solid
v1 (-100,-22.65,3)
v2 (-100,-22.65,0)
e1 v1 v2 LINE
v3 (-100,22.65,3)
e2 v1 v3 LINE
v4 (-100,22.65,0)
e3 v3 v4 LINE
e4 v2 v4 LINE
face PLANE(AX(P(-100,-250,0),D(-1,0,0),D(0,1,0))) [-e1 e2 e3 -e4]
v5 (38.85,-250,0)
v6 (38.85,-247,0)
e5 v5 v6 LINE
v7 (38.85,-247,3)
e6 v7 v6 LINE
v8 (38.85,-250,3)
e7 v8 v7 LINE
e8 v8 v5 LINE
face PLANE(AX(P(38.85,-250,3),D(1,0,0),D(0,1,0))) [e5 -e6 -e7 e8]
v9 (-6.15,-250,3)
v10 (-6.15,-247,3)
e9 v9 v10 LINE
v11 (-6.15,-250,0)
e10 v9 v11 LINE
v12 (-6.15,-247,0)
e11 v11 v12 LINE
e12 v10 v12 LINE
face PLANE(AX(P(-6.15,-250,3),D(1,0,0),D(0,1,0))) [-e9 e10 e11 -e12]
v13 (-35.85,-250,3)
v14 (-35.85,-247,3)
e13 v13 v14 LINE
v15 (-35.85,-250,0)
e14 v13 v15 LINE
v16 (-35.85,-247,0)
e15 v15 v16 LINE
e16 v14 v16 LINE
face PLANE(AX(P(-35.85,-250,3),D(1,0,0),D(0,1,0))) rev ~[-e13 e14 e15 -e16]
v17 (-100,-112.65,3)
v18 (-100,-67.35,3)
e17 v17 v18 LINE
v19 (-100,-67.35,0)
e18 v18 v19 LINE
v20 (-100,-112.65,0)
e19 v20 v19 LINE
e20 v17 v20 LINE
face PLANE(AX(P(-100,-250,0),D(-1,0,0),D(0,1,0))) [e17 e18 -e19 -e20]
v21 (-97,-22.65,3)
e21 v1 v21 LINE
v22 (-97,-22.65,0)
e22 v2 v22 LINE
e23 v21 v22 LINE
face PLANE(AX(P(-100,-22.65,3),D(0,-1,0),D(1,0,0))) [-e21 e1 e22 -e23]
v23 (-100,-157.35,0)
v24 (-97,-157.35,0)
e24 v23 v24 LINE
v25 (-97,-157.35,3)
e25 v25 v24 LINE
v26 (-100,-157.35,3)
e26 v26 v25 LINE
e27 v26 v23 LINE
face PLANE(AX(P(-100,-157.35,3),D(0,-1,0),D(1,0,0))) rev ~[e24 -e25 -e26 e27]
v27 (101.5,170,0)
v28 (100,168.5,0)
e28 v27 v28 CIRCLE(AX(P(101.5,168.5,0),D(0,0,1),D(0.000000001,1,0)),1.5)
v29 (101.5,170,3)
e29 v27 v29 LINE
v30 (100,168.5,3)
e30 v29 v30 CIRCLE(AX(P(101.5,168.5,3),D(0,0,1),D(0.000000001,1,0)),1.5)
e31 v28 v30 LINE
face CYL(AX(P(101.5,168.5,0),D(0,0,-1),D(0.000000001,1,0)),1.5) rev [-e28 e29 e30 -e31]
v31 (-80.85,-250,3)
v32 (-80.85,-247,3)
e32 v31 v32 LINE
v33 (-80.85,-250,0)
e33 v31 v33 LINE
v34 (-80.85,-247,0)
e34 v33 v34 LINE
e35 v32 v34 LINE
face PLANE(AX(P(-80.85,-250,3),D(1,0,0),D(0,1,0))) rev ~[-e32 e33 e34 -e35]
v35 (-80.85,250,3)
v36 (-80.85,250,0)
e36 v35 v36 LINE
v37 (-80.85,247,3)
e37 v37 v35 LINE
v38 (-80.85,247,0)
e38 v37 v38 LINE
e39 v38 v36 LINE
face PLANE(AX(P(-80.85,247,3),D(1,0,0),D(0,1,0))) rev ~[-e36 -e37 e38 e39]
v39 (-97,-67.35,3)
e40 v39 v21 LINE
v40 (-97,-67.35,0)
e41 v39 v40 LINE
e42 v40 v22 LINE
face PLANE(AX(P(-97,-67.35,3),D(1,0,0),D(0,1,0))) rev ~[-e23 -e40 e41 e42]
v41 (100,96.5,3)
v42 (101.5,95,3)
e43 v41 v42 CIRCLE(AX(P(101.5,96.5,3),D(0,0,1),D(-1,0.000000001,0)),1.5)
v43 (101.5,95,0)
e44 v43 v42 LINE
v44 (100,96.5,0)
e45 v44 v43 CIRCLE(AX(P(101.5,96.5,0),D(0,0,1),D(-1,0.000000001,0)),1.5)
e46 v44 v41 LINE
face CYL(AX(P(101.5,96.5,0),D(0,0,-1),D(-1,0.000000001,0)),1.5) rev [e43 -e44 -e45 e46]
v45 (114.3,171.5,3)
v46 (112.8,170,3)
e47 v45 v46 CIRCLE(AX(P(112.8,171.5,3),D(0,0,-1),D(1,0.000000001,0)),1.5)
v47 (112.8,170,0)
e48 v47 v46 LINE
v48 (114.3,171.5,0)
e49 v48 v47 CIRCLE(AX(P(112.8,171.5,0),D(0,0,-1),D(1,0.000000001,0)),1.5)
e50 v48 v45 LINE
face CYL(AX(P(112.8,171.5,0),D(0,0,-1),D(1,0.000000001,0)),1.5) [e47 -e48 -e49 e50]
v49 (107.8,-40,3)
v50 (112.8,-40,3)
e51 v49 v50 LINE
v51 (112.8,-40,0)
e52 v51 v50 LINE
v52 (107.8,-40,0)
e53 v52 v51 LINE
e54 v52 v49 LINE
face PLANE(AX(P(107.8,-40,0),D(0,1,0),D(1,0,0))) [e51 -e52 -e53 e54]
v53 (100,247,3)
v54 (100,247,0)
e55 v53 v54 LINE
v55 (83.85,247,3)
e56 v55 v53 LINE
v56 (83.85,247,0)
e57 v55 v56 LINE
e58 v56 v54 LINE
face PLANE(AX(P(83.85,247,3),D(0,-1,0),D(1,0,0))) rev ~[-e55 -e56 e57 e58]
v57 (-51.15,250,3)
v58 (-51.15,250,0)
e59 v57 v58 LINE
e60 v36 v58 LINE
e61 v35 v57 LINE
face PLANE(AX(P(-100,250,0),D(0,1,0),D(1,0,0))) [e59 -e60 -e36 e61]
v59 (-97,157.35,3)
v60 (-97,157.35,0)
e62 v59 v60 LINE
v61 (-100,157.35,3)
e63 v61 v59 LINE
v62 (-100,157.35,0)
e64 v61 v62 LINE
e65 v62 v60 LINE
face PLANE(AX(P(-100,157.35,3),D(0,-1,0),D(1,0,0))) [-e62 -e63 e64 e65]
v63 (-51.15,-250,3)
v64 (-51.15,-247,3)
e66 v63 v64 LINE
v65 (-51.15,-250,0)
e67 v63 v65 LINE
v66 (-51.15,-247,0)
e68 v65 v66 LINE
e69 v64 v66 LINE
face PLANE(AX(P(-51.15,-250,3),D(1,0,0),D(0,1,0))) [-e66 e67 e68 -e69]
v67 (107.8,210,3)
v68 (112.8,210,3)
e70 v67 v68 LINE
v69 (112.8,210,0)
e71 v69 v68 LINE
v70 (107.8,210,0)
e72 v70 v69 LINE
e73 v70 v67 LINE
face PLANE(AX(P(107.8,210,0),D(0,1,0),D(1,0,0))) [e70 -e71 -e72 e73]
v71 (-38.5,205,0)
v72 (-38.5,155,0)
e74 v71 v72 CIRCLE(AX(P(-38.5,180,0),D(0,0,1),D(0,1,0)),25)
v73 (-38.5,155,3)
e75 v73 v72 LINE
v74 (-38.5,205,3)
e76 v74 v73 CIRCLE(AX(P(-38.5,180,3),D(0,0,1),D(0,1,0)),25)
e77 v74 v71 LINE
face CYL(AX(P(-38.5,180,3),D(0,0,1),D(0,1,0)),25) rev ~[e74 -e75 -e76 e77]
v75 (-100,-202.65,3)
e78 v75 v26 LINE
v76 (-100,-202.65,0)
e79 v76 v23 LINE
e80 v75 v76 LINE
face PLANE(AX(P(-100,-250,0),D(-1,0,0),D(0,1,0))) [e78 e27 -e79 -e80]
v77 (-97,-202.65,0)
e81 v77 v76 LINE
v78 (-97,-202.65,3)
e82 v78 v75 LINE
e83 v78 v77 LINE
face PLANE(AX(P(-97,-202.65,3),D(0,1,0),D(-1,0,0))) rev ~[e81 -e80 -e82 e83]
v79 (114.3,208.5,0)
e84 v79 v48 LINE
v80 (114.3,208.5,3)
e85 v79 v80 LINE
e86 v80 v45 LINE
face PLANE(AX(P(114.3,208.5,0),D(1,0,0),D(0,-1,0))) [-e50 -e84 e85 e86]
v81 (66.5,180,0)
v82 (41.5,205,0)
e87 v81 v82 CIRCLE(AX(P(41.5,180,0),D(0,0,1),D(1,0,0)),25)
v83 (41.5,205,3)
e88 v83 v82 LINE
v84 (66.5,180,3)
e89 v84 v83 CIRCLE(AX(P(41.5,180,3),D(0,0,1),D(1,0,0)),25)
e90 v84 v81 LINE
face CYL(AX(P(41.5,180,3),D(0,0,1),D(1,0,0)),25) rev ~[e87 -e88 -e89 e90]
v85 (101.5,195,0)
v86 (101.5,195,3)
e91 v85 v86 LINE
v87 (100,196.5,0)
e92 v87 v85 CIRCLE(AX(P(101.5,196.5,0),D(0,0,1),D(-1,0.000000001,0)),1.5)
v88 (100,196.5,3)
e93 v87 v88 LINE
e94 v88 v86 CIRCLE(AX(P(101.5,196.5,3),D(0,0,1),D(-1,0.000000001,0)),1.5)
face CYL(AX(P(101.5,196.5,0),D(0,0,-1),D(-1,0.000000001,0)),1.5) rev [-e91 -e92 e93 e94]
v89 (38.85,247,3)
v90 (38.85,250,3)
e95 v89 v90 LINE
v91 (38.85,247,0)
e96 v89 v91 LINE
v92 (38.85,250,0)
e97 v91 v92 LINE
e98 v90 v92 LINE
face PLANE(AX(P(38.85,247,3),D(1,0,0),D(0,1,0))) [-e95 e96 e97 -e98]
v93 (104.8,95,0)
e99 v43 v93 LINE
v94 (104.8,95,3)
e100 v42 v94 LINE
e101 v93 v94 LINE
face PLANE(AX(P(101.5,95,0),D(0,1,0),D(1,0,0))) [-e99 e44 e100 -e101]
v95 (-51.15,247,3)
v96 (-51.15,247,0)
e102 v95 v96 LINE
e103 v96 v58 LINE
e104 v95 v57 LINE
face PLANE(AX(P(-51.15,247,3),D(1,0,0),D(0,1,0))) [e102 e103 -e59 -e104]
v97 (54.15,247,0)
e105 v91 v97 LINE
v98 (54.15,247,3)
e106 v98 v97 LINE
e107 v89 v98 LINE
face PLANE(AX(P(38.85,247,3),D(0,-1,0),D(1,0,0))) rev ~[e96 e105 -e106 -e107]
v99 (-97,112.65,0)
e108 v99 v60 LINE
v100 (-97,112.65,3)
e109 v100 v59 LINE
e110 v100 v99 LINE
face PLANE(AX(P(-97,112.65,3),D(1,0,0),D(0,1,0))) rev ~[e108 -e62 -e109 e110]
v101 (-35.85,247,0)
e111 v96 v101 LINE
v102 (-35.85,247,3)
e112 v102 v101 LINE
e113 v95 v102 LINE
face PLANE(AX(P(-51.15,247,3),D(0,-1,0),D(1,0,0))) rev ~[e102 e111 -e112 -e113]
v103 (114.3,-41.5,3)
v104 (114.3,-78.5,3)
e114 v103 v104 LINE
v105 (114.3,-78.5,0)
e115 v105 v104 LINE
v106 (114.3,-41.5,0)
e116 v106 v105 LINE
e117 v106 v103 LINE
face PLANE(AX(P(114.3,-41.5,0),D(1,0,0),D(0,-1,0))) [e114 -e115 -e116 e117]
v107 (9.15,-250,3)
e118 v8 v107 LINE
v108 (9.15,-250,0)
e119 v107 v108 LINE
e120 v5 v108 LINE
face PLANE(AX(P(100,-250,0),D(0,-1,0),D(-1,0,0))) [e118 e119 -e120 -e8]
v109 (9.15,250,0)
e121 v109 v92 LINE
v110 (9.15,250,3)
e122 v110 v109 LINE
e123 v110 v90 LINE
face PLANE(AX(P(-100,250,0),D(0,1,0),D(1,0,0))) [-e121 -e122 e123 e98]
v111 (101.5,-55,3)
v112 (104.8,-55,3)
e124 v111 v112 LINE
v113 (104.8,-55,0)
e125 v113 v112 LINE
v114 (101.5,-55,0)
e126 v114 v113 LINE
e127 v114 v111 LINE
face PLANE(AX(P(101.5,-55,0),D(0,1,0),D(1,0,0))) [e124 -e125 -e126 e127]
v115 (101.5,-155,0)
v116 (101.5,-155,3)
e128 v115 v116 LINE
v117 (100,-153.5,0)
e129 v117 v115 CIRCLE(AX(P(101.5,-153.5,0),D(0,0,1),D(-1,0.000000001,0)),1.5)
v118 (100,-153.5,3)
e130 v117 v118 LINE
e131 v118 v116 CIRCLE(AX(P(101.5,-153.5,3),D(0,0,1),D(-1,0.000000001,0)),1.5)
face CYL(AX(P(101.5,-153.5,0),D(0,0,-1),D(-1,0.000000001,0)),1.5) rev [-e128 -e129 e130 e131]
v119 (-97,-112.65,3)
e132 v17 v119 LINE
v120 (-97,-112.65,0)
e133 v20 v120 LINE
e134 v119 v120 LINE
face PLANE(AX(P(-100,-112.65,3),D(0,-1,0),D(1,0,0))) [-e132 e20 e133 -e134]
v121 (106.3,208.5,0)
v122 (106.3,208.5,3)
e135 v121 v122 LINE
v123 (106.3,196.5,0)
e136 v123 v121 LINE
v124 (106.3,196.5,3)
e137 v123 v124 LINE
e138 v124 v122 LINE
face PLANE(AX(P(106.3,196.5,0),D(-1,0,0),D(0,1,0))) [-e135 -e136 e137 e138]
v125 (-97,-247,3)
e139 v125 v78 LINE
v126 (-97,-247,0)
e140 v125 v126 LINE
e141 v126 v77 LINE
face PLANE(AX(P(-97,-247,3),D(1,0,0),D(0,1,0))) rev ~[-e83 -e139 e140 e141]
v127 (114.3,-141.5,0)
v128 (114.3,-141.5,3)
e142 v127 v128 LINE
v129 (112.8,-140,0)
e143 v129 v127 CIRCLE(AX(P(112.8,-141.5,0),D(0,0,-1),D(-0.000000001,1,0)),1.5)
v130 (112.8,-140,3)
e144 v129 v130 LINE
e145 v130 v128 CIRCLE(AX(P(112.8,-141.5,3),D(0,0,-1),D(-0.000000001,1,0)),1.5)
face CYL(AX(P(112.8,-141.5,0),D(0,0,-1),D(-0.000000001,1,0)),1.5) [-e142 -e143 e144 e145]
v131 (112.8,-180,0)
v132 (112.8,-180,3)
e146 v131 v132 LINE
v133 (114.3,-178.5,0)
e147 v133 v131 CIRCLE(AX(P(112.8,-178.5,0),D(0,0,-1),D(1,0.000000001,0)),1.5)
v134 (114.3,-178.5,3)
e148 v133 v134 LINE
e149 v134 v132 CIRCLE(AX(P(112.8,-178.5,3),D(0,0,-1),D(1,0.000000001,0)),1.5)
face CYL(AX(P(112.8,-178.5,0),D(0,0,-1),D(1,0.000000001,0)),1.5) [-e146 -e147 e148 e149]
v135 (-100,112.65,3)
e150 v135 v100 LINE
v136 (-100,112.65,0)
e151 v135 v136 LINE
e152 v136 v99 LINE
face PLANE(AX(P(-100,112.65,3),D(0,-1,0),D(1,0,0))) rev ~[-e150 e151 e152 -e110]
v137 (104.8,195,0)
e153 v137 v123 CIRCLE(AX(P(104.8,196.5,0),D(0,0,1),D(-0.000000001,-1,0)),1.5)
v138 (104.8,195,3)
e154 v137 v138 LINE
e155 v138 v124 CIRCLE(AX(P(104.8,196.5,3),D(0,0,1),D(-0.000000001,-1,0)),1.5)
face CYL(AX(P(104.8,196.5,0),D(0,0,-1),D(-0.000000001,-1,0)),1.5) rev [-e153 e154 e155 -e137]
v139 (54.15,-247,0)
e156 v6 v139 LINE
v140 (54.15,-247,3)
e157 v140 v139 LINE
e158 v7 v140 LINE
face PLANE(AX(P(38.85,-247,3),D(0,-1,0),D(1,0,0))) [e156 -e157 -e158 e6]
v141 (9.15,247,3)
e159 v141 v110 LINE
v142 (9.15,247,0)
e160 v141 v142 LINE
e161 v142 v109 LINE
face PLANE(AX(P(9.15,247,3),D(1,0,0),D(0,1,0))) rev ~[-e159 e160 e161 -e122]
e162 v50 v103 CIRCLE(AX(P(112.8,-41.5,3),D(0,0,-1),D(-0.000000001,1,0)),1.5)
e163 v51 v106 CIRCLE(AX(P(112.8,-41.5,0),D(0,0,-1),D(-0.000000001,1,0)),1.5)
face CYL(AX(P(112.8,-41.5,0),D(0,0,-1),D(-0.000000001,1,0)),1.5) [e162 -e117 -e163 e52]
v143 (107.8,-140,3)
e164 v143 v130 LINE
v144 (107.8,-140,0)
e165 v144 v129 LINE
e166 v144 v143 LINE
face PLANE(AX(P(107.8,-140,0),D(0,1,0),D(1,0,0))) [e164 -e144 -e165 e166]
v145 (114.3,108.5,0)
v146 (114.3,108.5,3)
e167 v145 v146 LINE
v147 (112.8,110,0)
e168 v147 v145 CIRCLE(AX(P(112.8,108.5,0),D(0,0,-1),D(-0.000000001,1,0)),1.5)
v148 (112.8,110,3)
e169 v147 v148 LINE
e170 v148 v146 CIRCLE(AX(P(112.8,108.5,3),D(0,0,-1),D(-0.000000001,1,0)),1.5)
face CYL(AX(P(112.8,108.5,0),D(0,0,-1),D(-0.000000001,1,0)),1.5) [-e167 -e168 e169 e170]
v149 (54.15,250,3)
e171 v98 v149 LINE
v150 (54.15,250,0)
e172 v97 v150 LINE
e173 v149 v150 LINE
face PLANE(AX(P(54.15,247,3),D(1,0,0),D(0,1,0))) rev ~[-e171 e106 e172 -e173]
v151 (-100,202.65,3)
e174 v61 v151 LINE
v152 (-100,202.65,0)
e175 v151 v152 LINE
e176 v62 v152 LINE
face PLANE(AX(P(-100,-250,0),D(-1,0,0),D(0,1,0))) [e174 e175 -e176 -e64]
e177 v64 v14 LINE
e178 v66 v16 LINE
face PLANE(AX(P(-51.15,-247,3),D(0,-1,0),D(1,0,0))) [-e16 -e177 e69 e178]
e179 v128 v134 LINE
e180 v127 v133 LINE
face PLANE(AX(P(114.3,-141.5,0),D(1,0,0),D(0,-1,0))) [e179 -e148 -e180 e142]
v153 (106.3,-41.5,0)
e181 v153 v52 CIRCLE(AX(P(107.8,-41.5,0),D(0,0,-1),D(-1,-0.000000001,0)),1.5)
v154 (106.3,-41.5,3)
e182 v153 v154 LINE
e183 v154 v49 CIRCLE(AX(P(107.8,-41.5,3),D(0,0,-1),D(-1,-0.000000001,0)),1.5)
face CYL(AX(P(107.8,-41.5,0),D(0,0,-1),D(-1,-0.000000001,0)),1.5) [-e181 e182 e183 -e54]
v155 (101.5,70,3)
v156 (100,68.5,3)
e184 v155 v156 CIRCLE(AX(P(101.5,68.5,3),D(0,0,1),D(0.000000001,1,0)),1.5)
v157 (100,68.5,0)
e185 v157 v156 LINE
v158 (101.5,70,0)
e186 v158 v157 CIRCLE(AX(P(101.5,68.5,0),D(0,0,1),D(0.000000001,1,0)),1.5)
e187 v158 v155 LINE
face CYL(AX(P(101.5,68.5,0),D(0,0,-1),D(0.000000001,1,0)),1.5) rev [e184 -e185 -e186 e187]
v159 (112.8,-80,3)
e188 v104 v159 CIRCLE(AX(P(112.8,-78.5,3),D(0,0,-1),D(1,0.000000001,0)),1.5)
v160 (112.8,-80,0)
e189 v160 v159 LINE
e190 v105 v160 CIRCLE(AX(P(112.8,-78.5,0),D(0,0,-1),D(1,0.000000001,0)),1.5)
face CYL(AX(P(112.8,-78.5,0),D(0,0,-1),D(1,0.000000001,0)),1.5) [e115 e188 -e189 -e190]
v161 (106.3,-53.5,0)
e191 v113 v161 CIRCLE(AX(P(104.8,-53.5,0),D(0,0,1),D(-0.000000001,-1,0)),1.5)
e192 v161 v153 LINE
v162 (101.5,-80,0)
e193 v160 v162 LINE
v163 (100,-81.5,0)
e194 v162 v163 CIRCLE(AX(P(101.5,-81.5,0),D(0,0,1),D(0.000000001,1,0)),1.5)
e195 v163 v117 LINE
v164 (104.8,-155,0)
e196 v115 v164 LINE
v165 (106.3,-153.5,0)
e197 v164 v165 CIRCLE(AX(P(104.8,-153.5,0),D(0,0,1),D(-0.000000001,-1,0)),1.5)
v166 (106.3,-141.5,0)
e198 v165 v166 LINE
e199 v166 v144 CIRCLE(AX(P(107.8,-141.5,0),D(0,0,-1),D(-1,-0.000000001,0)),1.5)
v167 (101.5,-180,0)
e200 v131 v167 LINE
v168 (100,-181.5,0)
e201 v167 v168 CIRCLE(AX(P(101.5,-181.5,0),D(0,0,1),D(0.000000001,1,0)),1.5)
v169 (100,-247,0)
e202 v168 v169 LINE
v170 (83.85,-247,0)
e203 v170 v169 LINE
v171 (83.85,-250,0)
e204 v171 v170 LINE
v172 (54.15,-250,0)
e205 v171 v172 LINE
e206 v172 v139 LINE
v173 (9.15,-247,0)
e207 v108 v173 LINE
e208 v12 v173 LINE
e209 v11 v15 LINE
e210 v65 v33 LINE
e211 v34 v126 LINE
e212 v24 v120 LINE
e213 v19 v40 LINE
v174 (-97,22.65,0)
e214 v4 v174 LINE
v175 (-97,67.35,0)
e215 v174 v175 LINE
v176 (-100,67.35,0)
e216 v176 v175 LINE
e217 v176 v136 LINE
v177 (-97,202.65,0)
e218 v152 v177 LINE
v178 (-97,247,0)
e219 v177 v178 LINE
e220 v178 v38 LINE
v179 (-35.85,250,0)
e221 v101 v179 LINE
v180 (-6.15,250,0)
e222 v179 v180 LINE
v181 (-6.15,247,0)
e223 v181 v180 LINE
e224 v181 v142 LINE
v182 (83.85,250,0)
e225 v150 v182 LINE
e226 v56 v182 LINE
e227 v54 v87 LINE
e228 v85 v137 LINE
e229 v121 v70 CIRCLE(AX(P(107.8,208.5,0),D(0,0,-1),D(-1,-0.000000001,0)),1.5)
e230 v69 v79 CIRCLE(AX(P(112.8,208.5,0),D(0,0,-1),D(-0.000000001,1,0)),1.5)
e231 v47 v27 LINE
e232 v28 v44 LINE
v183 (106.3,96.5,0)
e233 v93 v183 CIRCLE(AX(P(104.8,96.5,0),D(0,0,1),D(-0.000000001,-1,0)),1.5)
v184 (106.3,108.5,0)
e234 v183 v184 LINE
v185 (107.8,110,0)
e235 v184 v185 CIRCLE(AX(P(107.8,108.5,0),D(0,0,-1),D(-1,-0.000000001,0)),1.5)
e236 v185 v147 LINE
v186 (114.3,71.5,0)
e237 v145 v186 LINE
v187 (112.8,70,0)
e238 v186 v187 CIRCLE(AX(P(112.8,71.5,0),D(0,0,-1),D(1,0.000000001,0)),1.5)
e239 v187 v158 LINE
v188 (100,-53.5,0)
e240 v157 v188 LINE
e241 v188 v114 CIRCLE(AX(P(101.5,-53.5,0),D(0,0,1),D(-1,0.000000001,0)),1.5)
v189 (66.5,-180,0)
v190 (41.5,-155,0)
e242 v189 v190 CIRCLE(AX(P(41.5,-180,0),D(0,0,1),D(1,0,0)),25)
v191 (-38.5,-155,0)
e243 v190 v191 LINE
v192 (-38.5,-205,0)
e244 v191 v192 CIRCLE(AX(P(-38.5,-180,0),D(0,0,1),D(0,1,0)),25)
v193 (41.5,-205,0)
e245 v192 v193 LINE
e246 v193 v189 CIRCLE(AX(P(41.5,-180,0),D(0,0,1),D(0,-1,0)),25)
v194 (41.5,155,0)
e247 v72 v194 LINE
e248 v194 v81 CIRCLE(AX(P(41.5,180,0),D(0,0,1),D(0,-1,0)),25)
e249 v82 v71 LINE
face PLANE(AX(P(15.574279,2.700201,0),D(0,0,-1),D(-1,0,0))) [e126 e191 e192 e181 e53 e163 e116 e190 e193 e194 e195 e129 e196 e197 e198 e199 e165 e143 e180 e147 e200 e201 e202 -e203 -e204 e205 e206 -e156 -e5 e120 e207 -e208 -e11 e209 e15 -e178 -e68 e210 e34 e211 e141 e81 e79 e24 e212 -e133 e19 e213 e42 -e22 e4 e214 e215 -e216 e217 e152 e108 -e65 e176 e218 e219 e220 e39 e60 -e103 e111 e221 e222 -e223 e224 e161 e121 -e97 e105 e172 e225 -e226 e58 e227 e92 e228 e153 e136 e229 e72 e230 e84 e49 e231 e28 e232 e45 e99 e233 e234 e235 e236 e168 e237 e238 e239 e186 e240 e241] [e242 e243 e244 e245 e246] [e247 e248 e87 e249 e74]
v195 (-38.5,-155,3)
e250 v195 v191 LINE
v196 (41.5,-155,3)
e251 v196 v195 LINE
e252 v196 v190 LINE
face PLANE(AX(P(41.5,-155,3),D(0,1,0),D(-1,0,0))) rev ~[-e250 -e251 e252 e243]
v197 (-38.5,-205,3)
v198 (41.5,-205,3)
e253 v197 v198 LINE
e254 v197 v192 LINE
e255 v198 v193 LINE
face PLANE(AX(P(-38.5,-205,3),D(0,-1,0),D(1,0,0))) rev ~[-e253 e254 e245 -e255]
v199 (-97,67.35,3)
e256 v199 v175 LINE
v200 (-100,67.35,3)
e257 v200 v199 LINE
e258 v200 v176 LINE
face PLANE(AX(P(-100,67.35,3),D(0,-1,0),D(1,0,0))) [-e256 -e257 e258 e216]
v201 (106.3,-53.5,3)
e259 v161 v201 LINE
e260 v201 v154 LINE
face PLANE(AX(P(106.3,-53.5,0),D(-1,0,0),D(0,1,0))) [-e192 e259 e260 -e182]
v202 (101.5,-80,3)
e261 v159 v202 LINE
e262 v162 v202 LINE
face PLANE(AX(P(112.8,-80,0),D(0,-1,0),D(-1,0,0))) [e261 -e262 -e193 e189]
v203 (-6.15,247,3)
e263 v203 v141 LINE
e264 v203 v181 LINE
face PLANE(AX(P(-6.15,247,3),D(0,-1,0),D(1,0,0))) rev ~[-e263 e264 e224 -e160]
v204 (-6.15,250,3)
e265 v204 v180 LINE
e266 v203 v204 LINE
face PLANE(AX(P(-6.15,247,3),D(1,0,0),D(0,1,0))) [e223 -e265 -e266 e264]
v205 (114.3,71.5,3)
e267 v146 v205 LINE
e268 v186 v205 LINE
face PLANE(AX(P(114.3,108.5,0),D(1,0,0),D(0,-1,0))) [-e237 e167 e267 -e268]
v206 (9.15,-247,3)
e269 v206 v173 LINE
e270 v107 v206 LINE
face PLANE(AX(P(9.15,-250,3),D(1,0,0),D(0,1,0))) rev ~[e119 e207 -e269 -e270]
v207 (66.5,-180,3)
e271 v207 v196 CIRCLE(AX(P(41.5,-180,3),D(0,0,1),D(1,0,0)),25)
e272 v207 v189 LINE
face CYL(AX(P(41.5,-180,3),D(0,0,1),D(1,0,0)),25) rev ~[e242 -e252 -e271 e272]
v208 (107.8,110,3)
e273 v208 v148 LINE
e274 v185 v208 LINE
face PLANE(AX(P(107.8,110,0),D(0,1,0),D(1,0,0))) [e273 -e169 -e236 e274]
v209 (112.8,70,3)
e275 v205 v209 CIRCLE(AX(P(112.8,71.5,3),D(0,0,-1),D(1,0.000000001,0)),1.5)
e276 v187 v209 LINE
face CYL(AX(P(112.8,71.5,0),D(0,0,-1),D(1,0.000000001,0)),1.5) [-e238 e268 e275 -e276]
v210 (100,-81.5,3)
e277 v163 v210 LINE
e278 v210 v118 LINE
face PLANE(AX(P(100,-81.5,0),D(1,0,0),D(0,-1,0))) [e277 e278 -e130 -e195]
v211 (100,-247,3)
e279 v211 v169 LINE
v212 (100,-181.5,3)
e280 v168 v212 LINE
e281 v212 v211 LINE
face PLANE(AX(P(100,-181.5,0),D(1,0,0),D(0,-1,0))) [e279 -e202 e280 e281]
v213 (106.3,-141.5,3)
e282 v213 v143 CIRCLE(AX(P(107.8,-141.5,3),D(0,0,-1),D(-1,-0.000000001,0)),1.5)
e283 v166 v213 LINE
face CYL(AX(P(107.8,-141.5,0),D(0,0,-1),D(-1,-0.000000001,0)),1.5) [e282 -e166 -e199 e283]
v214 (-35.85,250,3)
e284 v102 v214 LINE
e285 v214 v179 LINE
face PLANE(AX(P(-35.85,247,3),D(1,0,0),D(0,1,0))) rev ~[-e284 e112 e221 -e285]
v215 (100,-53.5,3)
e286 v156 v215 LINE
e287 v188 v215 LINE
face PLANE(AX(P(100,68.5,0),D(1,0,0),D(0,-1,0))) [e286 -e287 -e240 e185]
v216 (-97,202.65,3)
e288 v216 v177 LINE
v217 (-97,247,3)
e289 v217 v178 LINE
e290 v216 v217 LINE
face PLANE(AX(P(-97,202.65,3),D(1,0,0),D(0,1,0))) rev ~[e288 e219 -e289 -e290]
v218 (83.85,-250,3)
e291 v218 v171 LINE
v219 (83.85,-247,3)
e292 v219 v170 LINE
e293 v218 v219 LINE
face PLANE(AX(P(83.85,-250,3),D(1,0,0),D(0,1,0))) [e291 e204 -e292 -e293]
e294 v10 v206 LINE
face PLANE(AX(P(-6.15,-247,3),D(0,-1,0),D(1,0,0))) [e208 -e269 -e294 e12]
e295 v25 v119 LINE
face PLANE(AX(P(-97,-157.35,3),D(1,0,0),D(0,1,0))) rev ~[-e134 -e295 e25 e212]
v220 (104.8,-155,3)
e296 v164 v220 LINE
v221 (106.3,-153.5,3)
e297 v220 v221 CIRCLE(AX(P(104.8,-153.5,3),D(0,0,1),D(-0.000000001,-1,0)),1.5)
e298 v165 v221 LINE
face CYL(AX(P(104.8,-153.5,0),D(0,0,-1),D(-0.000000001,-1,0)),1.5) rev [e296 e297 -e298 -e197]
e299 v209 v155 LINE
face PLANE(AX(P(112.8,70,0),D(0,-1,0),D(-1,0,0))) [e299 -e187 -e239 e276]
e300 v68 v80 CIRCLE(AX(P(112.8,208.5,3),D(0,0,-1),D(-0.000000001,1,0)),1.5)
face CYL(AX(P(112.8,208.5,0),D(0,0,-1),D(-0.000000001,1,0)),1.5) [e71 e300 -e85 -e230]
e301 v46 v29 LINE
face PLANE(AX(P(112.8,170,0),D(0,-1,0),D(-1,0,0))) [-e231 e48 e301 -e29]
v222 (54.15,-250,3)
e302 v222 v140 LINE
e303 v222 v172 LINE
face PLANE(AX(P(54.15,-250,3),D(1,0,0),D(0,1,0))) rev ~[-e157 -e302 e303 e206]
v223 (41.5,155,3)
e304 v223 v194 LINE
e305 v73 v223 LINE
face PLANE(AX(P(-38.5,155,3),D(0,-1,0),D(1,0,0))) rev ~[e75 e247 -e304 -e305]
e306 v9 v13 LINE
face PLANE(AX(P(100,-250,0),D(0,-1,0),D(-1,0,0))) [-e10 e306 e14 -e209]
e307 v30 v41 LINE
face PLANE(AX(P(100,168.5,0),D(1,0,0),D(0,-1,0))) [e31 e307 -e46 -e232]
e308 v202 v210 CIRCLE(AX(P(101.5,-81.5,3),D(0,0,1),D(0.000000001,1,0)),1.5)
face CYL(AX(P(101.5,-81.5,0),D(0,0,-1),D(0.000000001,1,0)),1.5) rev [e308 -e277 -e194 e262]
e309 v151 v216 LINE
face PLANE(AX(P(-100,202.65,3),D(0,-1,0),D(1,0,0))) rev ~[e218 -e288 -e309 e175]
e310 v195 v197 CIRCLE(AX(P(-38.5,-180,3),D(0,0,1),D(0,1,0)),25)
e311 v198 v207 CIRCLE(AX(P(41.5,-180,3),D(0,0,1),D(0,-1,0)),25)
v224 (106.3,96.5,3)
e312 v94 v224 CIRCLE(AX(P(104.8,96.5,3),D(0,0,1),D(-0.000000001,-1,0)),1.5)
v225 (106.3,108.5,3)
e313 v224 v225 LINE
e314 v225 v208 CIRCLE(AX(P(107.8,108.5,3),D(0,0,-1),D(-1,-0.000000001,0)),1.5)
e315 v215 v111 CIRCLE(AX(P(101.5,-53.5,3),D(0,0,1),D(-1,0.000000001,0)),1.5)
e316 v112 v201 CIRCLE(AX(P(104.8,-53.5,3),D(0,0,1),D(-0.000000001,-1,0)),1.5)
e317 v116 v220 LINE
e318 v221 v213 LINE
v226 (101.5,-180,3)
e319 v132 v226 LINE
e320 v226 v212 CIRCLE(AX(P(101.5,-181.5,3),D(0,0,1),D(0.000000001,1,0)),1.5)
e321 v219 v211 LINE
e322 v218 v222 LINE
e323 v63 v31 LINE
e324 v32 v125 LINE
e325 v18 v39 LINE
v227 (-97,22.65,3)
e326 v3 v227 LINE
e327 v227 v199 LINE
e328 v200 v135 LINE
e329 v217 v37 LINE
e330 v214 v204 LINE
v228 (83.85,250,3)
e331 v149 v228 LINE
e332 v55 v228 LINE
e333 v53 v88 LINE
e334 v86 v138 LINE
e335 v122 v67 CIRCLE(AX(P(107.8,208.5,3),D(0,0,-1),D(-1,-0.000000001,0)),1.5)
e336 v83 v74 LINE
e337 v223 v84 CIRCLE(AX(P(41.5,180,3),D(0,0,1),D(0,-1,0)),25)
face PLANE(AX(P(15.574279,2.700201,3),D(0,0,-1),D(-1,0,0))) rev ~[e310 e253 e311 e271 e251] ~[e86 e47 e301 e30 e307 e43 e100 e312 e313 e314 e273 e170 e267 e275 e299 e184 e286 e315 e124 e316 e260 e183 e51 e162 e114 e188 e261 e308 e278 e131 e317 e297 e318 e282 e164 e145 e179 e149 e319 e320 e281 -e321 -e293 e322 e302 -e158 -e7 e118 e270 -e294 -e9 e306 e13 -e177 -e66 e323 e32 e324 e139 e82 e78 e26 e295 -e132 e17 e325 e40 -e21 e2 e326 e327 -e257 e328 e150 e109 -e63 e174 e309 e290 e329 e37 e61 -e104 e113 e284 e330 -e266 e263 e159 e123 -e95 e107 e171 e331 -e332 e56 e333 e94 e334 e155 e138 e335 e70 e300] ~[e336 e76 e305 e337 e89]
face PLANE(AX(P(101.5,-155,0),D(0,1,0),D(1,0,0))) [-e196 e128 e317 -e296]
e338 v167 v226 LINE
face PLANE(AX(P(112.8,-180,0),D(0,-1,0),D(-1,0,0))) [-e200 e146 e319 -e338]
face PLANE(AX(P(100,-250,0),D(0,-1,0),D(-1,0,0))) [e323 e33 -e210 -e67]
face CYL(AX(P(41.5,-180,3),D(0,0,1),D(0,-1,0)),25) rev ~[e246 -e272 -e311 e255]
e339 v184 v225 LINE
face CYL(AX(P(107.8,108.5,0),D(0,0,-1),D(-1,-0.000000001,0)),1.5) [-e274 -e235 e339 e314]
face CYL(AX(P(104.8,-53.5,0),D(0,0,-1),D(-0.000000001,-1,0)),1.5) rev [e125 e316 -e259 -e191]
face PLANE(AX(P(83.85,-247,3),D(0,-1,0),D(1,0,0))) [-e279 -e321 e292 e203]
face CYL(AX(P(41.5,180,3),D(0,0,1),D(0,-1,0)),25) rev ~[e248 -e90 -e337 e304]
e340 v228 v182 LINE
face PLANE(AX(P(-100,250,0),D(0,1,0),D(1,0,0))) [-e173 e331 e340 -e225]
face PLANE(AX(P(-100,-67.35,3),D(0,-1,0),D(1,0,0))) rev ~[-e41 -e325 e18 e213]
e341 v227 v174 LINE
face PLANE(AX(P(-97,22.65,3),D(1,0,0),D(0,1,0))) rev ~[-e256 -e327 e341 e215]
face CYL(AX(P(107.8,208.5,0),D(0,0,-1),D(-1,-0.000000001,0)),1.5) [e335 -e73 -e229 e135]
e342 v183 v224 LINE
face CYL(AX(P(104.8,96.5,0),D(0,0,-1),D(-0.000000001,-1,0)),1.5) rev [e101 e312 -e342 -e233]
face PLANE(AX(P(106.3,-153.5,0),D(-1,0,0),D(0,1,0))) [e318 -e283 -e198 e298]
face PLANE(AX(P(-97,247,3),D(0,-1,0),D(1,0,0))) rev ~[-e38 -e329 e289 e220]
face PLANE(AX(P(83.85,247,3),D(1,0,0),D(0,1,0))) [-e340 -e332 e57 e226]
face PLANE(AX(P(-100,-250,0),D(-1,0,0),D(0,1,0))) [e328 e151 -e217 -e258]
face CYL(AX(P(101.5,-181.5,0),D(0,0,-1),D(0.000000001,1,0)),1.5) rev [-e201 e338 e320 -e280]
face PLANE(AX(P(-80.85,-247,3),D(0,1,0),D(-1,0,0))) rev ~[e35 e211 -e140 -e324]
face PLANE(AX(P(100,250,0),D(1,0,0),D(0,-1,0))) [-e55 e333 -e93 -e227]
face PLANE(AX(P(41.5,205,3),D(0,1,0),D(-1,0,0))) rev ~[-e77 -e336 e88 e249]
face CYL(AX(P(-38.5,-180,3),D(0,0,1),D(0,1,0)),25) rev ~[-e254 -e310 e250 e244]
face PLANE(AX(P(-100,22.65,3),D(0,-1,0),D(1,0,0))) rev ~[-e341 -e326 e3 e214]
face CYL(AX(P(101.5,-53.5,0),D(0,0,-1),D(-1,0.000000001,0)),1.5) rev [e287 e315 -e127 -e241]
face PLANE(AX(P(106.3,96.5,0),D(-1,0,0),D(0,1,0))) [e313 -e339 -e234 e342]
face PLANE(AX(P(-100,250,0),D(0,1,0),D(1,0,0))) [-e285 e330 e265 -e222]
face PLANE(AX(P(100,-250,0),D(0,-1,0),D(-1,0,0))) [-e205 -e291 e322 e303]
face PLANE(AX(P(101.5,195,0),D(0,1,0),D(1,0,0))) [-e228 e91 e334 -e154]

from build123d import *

# Parameters (mm, degrees)
SALIENTE_EXTRUIR1_DEPTH = 3
CORTAR_EXTRUIR1_REACH   = 5
CROQUIS2_W              = 15.3
CROQUIS2_H              = 3
CROQUIS2_W_2            = 16.15
CROQUIS2_W_3            = 3
CROQUIS2_H_2            = 44.7


with BuildPart() as part:
    # Croquis1 → Saliente-Extruir1 (new body)
    with BuildSketch(Plane.XY):
        with BuildLine():
            Line((101.5, 195), (104.8, 195))
            ThreePointArc((104.8, 195), (105.860660172, 195.439339828), (106.3, 196.5))
            Line((106.3, 196.5), (106.3, 208.5))
            ThreePointArc((106.3, 208.5), (106.739339828, 209.560660172), (107.8, 210))
            Line((107.8, 210), (112.8, 210))
            ThreePointArc((112.8, 210), (113.860660172, 209.560660172), (114.3, 208.5))
            Line((114.3, 208.5), (114.3, 171.5))
            ThreePointArc((114.3, 171.5), (113.860660172, 170.439339828), (112.8, 170))
            Line((112.8, 170), (101.5, 170))
            ThreePointArc((101.5, 170), (100.439339828, 169.560660172), (100, 168.5))
            Line((100, 168.5), (100, 96.5))
            ThreePointArc((100, 96.5), (100.439339828, 95.439339828), (101.5, 95))
            Line((101.5, 95), (104.8, 95))
            ThreePointArc((104.8, 95), (105.860660172, 95.439339828), (106.3, 96.5))
            Line((106.3, 96.5), (106.3, 108.5))
            ThreePointArc((106.3, 108.5), (106.739339828, 109.560660172), (107.8, 110))
            Line((107.8, 110), (112.8, 110))
            ThreePointArc((112.8, 110), (113.860660172, 109.560660172), (114.3, 108.5))
            Line((114.3, 108.5), (114.3, 71.5))
            ThreePointArc((114.3, 71.5), (113.860660172, 70.439339828), (112.8, 70))
            Line((112.8, 70), (101.5, 70))
            ThreePointArc((101.5, 70), (100.439339828, 69.560660172), (100, 68.5))
            Line((100, 68.5), (100, -53.5))
            ThreePointArc((100, -53.5), (100.439339828, -54.560660172), (101.5, -55))
            Line((101.5, -55), (104.8, -55))
            ThreePointArc((104.8, -55), (105.860660172, -54.560660172), (106.3, -53.5))
            Line((106.3, -53.5), (106.3, -41.5))
            ThreePointArc((106.3, -41.5), (106.739339828, -40.439339828), (107.8, -40))
            Line((107.8, -40), (112.8, -40))
            ThreePointArc((112.8, -40), (113.860660172, -40.439339828), (114.3, -41.5))
            Line((114.3, -41.5), (114.3, -78.5))
            ThreePointArc((114.3, -78.5), (113.860660172, -79.560660172), (112.8, -80))
            Line((112.8, -80), (101.5, -80))
            ThreePointArc((101.5, -80), (100.439339828, -80.439339828), (100, -81.5))
            Line((100, -81.5), (100, -153.5))
            ThreePointArc((100, -153.5), (100.439339828, -154.560660172), (101.5, -155))
            Line((101.5, -155), (104.8, -155))
            ThreePointArc((104.8, -155), (105.860660172, -154.560660172), (106.3, -153.5))
            Line((106.3, -153.5), (106.3, -141.5))
            ThreePointArc((106.3, -141.5), (106.739339828, -140.439339828), (107.8, -140))
            Line((107.8, -140), (112.8, -140))
            ThreePointArc((112.8, -140), (113.860660172, -140.439339828), (114.3, -141.5))
            Line((114.3, -141.5), (114.3, -178.5))
            ThreePointArc((114.3, -178.5), (113.860660172, -179.560660172), (112.8, -180))
            Line((112.8, -180), (101.5, -180))
            ThreePointArc((101.5, -180), (100.439339828, -180.439339828), (100, -181.5))
            Line((100, -181.5), (100, -250))
            Line((100, -250), (-100, -250))
            Line((-100, -250), (-100, 250))
            Line((-100, 250), (100, 250))
            Line((100, 250), (100, 196.5))
            ThreePointArc((100, 196.5), (100.439339828, 195.439339828), (101.5, 195))
        make_face()
    extrude(amount=SALIENTE_EXTRUIR1_DEPTH)

    # Croquis2 → Cortar-Extruir1 (cut, up to next)
    with BuildSketch(Plane.XY.offset(3), mode=Mode.PRIVATE) as cortar_extruir1_sk1:
        Polygon((-100, -250), (-80.85, -250), (-80.85, -247), (-97, -247), (-97, -202.65), (-100, -202.65), align=None)
    cortar_extruir1_tool1 = extrude(cortar_extruir1_sk1.sketch, amount=-CORTAR_EXTRUIR1_REACH, mode=Mode.PRIVATE) & part.part
    add(cortar_extruir1_tool1.solids().sort_by_distance((-99.489241, -226.325, 3))[0], mode=Mode.SUBTRACT)
    # Croquis2 → Cortar-Extruir1 (cut, up to next)
    with BuildSketch(Plane.XY.offset(3), mode=Mode.PRIVATE) as cortar_extruir1_sk2:
        with Locations((-43.5, -248.5)):
            Rectangle(CROQUIS2_W, CROQUIS2_H)
    cortar_extruir1_tool2 = extrude(cortar_extruir1_sk2.sketch, amount=-CORTAR_EXTRUIR1_REACH, mode=Mode.PRIVATE) & part.part
    add(cortar_extruir1_tool2.solids().sort_by_distance((-43.5, -248.5, 3))[0], mode=Mode.SUBTRACT)
    # Croquis2 → Cortar-Extruir1 (cut, up to next)
    with BuildSketch(Plane.XY.offset(3), mode=Mode.PRIVATE) as cortar_extruir1_sk3:
        with Locations((1.5, -248.5)):
            Rectangle(CROQUIS2_W, CROQUIS2_H)
    cortar_extruir1_tool3 = extrude(cortar_extruir1_sk3.sketch, amount=-CORTAR_EXTRUIR1_REACH, mode=Mode.PRIVATE) & part.part
    add(cortar_extruir1_tool3.solids().sort_by_distance((1.5, -248.5, 3))[0], mode=Mode.SUBTRACT)
    # Croquis2 → Cortar-Extruir1 (cut, up to next)
    with BuildSketch(Plane.XY.offset(3), mode=Mode.PRIVATE) as cortar_extruir1_sk4:
        with Locations((46.5, -248.5)):
            Rectangle(CROQUIS2_W, CROQUIS2_H)
    cortar_extruir1_tool4 = extrude(cortar_extruir1_sk4.sketch, amount=-CORTAR_EXTRUIR1_REACH, mode=Mode.PRIVATE) & part.part
    add(cortar_extruir1_tool4.solids().sort_by_distance((46.5, -248.5, 3))[0], mode=Mode.SUBTRACT)
    # Croquis2 → Cortar-Extruir1 (cut, up to next)
    with BuildSketch(Plane.XY.offset(3), mode=Mode.PRIVATE) as cortar_extruir1_sk5:
        with Locations((91.925, -248.5)):
            Rectangle(CROQUIS2_W_2, CROQUIS2_H)
    cortar_extruir1_tool5 = extrude(cortar_extruir1_sk5.sketch, amount=-CORTAR_EXTRUIR1_REACH, mode=Mode.PRIVATE) & part.part
    add(cortar_extruir1_tool5.solids().sort_by_distance((91.925, -248.5, 3))[0], mode=Mode.SUBTRACT)
    # Croquis2 → Cortar-Extruir1 (cut, up to next)
    with BuildSketch(Plane.XY.offset(3), mode=Mode.PRIVATE) as cortar_extruir1_sk6:
        with Locations((-98.5, -135)):
            Rectangle(CROQUIS2_W_3, CROQUIS2_H_2)
    cortar_extruir1_tool6 = extrude(cortar_extruir1_sk6.sketch, amount=-CORTAR_EXTRUIR1_REACH, mode=Mode.PRIVATE) & part.part
    add(cortar_extruir1_tool6.solids().sort_by_distance((-98.5, -135, 3))[0], mode=Mode.SUBTRACT)
    # Croquis2 → Cortar-Extruir1 (cut, up to next)
    with BuildSketch(Plane.XY.offset(3), mode=Mode.PRIVATE) as cortar_extruir1_sk7:
        with Locations((-98.5, -45)):
            Rectangle(CROQUIS2_W_3, CROQUIS2_H_2)
    cortar_extruir1_tool7 = extrude(cortar_extruir1_sk7.sketch, amount=-CORTAR_EXTRUIR1_REACH, mode=Mode.PRIVATE) & part.part
    add(cortar_extruir1_tool7.solids().sort_by_distance((-98.5, -45, 3))[0], mode=Mode.SUBTRACT)
    # Croquis2 → Cortar-Extruir1 (cut, up to next)
    with BuildSketch(Plane.XY.offset(3), mode=Mode.PRIVATE) as cortar_extruir1_sk8:
        with Locations((-98.5, 45)):
            Rectangle(CROQUIS2_W_3, CROQUIS2_H_2)
    cortar_extruir1_tool8 = extrude(cortar_extruir1_sk8.sketch, amount=-CORTAR_EXTRUIR1_REACH, mode=Mode.PRIVATE) & part.part
    add(cortar_extruir1_tool8.solids().sort_by_distance((-98.5, 45, 3))[0], mode=Mode.SUBTRACT)
    # Croquis2 → Cortar-Extruir1 (cut, up to next)
    with BuildSketch(Plane.XY.offset(3), mode=Mode.PRIVATE) as cortar_extruir1_sk9:
        with Locations((-98.5, 135)):
            Rectangle(CROQUIS2_W_3, CROQUIS2_H_2)
    cortar_extruir1_tool9 = extrude(cortar_extruir1_sk9.sketch, amount=-CORTAR_EXTRUIR1_REACH, mode=Mode.PRIVATE) & part.part
    add(cortar_extruir1_tool9.solids().sort_by_distance((-98.5, 135, 3))[0], mode=Mode.SUBTRACT)
    # Croquis2 → Cortar-Extruir1 (cut, up to next)
    with BuildSketch(Plane.XY.offset(3), mode=Mode.PRIVATE) as cortar_extruir1_sk10:
        Polygon((-80.85, 247), (-80.85, 250), (-100, 250), (-100, 202.65), (-97, 202.65), (-97, 247), align=None)
    cortar_extruir1_tool10 = extrude(cortar_extruir1_sk10.sketch, amount=-CORTAR_EXTRUIR1_REACH, mode=Mode.PRIVATE) & part.part
    add(cortar_extruir1_tool10.solids().sort_by_distance((-81.360759, 248.5, 3))[0], mode=Mode.SUBTRACT)
    # Croquis2 → Cortar-Extruir1 (cut, up to next)
    with BuildSketch(Plane.XY.offset(3), mode=Mode.PRIVATE) as cortar_extruir1_sk11:
        with Locations((-43.5, 248.5)):
            Rectangle(CROQUIS2_W, CROQUIS2_H)
    cortar_extruir1_tool11 = extrude(cortar_extruir1_sk11.sketch, amount=-CORTAR_EXTRUIR1_REACH, mode=Mode.PRIVATE) & part.part
    add(cortar_extruir1_tool11.solids().sort_by_distance((-43.5, 248.5, 3))[0], mode=Mode.SUBTRACT)
    # Croquis2 → Cortar-Extruir1 (cut, up to next)
    with BuildSketch(Plane.XY.offset(3), mode=Mode.PRIVATE) as cortar_extruir1_sk12:
        with BuildLine():
            ThreePointArc((41.5, 155), (59.17766953, 162.32233047), (66.5, 180))
            ThreePointArc((66.5, 180), (59.17766953, 197.67766953), (41.5, 205))
            Line((41.5, 205), (-38.5, 205))
            ThreePointArc((-38.5, 205), (-63.5, 180), (-38.5, 155))
            Line((-38.5, 155), (41.5, 155))
        make_face()
    cortar_extruir1_tool12 = extrude(cortar_extruir1_sk12.sketch, amount=-CORTAR_EXTRUIR1_REACH, mode=Mode.PRIVATE) & part.part
    add(cortar_extruir1_tool12.solids().sort_by_distance((1.5, 180, 3))[0], mode=Mode.SUBTRACT)
    # Croquis2 → Cortar-Extruir1 (cut, up to next)
    with BuildSketch(Plane.XY.offset(3), mode=Mode.PRIVATE) as cortar_extruir1_sk13:
        with Locations((46.5, 248.5)):
            Rectangle(CROQUIS2_W, CROQUIS2_H)
    cortar_extruir1_tool13 = extrude(cortar_extruir1_sk13.sketch, amount=-CORTAR_EXTRUIR1_REACH, mode=Mode.PRIVATE) & part.part
    add(cortar_extruir1_tool13.solids().sort_by_distance((46.5, 248.5, 3))[0], mode=Mode.SUBTRACT)
    # Croquis2 → Cortar-Extruir1 (cut, up to next)
    with BuildSketch(Plane.XY.offset(3), mode=Mode.PRIVATE) as cortar_extruir1_sk14:
        with Locations((1.5, 248.5)):
            Rectangle(CROQUIS2_W, CROQUIS2_H)
    cortar_extruir1_tool14 = extrude(cortar_extruir1_sk14.sketch, amount=-CORTAR_EXTRUIR1_REACH, mode=Mode.PRIVATE) & part.part
    add(cortar_extruir1_tool14.solids().sort_by_distance((1.5, 248.5, 3))[0], mode=Mode.SUBTRACT)
    # Croquis2 → Cortar-Extruir1 (cut, up to next)
    with BuildSketch(Plane.XY.offset(3), mode=Mode.PRIVATE) as cortar_extruir1_sk15:
        with Locations((91.925, 248.5)):
            Rectangle(CROQUIS2_W_2, CROQUIS2_H)
    cortar_extruir1_tool15 = extrude(cortar_extruir1_sk15.sketch, amount=-CORTAR_EXTRUIR1_REACH, mode=Mode.PRIVATE) & part.part
    add(cortar_extruir1_tool15.solids().sort_by_distance((91.925, 248.5, 3))[0], mode=Mode.SUBTRACT)
    # Croquis2 → Cortar-Extruir1 (cut, up to next)
    with BuildSketch(Plane.XY.offset(3), mode=Mode.PRIVATE) as cortar_extruir1_sk16:
        with BuildLine():
            ThreePointArc((41.5, -205), (59.17766953, -197.67766953), (66.5, -180))
            ThreePointArc((66.5, -180), (59.17766953, -162.32233047), (41.5, -155))
            Line((41.5, -155), (-38.5, -155))
            ThreePointArc((-38.5, -155), (-63.5, -180), (-38.5, -205))
            Line((-38.5, -205), (41.5, -205))
        make_face()
    cortar_extruir1_tool16 = extrude(cortar_extruir1_sk16.sketch, amount=-CORTAR_EXTRUIR1_REACH, mode=Mode.PRIVATE) & part.part
    add(cortar_extruir1_tool16.solids().sort_by_distance((1.5, -180, 3))[0], mode=Mode.SUBTRACT)


solid = part.part
